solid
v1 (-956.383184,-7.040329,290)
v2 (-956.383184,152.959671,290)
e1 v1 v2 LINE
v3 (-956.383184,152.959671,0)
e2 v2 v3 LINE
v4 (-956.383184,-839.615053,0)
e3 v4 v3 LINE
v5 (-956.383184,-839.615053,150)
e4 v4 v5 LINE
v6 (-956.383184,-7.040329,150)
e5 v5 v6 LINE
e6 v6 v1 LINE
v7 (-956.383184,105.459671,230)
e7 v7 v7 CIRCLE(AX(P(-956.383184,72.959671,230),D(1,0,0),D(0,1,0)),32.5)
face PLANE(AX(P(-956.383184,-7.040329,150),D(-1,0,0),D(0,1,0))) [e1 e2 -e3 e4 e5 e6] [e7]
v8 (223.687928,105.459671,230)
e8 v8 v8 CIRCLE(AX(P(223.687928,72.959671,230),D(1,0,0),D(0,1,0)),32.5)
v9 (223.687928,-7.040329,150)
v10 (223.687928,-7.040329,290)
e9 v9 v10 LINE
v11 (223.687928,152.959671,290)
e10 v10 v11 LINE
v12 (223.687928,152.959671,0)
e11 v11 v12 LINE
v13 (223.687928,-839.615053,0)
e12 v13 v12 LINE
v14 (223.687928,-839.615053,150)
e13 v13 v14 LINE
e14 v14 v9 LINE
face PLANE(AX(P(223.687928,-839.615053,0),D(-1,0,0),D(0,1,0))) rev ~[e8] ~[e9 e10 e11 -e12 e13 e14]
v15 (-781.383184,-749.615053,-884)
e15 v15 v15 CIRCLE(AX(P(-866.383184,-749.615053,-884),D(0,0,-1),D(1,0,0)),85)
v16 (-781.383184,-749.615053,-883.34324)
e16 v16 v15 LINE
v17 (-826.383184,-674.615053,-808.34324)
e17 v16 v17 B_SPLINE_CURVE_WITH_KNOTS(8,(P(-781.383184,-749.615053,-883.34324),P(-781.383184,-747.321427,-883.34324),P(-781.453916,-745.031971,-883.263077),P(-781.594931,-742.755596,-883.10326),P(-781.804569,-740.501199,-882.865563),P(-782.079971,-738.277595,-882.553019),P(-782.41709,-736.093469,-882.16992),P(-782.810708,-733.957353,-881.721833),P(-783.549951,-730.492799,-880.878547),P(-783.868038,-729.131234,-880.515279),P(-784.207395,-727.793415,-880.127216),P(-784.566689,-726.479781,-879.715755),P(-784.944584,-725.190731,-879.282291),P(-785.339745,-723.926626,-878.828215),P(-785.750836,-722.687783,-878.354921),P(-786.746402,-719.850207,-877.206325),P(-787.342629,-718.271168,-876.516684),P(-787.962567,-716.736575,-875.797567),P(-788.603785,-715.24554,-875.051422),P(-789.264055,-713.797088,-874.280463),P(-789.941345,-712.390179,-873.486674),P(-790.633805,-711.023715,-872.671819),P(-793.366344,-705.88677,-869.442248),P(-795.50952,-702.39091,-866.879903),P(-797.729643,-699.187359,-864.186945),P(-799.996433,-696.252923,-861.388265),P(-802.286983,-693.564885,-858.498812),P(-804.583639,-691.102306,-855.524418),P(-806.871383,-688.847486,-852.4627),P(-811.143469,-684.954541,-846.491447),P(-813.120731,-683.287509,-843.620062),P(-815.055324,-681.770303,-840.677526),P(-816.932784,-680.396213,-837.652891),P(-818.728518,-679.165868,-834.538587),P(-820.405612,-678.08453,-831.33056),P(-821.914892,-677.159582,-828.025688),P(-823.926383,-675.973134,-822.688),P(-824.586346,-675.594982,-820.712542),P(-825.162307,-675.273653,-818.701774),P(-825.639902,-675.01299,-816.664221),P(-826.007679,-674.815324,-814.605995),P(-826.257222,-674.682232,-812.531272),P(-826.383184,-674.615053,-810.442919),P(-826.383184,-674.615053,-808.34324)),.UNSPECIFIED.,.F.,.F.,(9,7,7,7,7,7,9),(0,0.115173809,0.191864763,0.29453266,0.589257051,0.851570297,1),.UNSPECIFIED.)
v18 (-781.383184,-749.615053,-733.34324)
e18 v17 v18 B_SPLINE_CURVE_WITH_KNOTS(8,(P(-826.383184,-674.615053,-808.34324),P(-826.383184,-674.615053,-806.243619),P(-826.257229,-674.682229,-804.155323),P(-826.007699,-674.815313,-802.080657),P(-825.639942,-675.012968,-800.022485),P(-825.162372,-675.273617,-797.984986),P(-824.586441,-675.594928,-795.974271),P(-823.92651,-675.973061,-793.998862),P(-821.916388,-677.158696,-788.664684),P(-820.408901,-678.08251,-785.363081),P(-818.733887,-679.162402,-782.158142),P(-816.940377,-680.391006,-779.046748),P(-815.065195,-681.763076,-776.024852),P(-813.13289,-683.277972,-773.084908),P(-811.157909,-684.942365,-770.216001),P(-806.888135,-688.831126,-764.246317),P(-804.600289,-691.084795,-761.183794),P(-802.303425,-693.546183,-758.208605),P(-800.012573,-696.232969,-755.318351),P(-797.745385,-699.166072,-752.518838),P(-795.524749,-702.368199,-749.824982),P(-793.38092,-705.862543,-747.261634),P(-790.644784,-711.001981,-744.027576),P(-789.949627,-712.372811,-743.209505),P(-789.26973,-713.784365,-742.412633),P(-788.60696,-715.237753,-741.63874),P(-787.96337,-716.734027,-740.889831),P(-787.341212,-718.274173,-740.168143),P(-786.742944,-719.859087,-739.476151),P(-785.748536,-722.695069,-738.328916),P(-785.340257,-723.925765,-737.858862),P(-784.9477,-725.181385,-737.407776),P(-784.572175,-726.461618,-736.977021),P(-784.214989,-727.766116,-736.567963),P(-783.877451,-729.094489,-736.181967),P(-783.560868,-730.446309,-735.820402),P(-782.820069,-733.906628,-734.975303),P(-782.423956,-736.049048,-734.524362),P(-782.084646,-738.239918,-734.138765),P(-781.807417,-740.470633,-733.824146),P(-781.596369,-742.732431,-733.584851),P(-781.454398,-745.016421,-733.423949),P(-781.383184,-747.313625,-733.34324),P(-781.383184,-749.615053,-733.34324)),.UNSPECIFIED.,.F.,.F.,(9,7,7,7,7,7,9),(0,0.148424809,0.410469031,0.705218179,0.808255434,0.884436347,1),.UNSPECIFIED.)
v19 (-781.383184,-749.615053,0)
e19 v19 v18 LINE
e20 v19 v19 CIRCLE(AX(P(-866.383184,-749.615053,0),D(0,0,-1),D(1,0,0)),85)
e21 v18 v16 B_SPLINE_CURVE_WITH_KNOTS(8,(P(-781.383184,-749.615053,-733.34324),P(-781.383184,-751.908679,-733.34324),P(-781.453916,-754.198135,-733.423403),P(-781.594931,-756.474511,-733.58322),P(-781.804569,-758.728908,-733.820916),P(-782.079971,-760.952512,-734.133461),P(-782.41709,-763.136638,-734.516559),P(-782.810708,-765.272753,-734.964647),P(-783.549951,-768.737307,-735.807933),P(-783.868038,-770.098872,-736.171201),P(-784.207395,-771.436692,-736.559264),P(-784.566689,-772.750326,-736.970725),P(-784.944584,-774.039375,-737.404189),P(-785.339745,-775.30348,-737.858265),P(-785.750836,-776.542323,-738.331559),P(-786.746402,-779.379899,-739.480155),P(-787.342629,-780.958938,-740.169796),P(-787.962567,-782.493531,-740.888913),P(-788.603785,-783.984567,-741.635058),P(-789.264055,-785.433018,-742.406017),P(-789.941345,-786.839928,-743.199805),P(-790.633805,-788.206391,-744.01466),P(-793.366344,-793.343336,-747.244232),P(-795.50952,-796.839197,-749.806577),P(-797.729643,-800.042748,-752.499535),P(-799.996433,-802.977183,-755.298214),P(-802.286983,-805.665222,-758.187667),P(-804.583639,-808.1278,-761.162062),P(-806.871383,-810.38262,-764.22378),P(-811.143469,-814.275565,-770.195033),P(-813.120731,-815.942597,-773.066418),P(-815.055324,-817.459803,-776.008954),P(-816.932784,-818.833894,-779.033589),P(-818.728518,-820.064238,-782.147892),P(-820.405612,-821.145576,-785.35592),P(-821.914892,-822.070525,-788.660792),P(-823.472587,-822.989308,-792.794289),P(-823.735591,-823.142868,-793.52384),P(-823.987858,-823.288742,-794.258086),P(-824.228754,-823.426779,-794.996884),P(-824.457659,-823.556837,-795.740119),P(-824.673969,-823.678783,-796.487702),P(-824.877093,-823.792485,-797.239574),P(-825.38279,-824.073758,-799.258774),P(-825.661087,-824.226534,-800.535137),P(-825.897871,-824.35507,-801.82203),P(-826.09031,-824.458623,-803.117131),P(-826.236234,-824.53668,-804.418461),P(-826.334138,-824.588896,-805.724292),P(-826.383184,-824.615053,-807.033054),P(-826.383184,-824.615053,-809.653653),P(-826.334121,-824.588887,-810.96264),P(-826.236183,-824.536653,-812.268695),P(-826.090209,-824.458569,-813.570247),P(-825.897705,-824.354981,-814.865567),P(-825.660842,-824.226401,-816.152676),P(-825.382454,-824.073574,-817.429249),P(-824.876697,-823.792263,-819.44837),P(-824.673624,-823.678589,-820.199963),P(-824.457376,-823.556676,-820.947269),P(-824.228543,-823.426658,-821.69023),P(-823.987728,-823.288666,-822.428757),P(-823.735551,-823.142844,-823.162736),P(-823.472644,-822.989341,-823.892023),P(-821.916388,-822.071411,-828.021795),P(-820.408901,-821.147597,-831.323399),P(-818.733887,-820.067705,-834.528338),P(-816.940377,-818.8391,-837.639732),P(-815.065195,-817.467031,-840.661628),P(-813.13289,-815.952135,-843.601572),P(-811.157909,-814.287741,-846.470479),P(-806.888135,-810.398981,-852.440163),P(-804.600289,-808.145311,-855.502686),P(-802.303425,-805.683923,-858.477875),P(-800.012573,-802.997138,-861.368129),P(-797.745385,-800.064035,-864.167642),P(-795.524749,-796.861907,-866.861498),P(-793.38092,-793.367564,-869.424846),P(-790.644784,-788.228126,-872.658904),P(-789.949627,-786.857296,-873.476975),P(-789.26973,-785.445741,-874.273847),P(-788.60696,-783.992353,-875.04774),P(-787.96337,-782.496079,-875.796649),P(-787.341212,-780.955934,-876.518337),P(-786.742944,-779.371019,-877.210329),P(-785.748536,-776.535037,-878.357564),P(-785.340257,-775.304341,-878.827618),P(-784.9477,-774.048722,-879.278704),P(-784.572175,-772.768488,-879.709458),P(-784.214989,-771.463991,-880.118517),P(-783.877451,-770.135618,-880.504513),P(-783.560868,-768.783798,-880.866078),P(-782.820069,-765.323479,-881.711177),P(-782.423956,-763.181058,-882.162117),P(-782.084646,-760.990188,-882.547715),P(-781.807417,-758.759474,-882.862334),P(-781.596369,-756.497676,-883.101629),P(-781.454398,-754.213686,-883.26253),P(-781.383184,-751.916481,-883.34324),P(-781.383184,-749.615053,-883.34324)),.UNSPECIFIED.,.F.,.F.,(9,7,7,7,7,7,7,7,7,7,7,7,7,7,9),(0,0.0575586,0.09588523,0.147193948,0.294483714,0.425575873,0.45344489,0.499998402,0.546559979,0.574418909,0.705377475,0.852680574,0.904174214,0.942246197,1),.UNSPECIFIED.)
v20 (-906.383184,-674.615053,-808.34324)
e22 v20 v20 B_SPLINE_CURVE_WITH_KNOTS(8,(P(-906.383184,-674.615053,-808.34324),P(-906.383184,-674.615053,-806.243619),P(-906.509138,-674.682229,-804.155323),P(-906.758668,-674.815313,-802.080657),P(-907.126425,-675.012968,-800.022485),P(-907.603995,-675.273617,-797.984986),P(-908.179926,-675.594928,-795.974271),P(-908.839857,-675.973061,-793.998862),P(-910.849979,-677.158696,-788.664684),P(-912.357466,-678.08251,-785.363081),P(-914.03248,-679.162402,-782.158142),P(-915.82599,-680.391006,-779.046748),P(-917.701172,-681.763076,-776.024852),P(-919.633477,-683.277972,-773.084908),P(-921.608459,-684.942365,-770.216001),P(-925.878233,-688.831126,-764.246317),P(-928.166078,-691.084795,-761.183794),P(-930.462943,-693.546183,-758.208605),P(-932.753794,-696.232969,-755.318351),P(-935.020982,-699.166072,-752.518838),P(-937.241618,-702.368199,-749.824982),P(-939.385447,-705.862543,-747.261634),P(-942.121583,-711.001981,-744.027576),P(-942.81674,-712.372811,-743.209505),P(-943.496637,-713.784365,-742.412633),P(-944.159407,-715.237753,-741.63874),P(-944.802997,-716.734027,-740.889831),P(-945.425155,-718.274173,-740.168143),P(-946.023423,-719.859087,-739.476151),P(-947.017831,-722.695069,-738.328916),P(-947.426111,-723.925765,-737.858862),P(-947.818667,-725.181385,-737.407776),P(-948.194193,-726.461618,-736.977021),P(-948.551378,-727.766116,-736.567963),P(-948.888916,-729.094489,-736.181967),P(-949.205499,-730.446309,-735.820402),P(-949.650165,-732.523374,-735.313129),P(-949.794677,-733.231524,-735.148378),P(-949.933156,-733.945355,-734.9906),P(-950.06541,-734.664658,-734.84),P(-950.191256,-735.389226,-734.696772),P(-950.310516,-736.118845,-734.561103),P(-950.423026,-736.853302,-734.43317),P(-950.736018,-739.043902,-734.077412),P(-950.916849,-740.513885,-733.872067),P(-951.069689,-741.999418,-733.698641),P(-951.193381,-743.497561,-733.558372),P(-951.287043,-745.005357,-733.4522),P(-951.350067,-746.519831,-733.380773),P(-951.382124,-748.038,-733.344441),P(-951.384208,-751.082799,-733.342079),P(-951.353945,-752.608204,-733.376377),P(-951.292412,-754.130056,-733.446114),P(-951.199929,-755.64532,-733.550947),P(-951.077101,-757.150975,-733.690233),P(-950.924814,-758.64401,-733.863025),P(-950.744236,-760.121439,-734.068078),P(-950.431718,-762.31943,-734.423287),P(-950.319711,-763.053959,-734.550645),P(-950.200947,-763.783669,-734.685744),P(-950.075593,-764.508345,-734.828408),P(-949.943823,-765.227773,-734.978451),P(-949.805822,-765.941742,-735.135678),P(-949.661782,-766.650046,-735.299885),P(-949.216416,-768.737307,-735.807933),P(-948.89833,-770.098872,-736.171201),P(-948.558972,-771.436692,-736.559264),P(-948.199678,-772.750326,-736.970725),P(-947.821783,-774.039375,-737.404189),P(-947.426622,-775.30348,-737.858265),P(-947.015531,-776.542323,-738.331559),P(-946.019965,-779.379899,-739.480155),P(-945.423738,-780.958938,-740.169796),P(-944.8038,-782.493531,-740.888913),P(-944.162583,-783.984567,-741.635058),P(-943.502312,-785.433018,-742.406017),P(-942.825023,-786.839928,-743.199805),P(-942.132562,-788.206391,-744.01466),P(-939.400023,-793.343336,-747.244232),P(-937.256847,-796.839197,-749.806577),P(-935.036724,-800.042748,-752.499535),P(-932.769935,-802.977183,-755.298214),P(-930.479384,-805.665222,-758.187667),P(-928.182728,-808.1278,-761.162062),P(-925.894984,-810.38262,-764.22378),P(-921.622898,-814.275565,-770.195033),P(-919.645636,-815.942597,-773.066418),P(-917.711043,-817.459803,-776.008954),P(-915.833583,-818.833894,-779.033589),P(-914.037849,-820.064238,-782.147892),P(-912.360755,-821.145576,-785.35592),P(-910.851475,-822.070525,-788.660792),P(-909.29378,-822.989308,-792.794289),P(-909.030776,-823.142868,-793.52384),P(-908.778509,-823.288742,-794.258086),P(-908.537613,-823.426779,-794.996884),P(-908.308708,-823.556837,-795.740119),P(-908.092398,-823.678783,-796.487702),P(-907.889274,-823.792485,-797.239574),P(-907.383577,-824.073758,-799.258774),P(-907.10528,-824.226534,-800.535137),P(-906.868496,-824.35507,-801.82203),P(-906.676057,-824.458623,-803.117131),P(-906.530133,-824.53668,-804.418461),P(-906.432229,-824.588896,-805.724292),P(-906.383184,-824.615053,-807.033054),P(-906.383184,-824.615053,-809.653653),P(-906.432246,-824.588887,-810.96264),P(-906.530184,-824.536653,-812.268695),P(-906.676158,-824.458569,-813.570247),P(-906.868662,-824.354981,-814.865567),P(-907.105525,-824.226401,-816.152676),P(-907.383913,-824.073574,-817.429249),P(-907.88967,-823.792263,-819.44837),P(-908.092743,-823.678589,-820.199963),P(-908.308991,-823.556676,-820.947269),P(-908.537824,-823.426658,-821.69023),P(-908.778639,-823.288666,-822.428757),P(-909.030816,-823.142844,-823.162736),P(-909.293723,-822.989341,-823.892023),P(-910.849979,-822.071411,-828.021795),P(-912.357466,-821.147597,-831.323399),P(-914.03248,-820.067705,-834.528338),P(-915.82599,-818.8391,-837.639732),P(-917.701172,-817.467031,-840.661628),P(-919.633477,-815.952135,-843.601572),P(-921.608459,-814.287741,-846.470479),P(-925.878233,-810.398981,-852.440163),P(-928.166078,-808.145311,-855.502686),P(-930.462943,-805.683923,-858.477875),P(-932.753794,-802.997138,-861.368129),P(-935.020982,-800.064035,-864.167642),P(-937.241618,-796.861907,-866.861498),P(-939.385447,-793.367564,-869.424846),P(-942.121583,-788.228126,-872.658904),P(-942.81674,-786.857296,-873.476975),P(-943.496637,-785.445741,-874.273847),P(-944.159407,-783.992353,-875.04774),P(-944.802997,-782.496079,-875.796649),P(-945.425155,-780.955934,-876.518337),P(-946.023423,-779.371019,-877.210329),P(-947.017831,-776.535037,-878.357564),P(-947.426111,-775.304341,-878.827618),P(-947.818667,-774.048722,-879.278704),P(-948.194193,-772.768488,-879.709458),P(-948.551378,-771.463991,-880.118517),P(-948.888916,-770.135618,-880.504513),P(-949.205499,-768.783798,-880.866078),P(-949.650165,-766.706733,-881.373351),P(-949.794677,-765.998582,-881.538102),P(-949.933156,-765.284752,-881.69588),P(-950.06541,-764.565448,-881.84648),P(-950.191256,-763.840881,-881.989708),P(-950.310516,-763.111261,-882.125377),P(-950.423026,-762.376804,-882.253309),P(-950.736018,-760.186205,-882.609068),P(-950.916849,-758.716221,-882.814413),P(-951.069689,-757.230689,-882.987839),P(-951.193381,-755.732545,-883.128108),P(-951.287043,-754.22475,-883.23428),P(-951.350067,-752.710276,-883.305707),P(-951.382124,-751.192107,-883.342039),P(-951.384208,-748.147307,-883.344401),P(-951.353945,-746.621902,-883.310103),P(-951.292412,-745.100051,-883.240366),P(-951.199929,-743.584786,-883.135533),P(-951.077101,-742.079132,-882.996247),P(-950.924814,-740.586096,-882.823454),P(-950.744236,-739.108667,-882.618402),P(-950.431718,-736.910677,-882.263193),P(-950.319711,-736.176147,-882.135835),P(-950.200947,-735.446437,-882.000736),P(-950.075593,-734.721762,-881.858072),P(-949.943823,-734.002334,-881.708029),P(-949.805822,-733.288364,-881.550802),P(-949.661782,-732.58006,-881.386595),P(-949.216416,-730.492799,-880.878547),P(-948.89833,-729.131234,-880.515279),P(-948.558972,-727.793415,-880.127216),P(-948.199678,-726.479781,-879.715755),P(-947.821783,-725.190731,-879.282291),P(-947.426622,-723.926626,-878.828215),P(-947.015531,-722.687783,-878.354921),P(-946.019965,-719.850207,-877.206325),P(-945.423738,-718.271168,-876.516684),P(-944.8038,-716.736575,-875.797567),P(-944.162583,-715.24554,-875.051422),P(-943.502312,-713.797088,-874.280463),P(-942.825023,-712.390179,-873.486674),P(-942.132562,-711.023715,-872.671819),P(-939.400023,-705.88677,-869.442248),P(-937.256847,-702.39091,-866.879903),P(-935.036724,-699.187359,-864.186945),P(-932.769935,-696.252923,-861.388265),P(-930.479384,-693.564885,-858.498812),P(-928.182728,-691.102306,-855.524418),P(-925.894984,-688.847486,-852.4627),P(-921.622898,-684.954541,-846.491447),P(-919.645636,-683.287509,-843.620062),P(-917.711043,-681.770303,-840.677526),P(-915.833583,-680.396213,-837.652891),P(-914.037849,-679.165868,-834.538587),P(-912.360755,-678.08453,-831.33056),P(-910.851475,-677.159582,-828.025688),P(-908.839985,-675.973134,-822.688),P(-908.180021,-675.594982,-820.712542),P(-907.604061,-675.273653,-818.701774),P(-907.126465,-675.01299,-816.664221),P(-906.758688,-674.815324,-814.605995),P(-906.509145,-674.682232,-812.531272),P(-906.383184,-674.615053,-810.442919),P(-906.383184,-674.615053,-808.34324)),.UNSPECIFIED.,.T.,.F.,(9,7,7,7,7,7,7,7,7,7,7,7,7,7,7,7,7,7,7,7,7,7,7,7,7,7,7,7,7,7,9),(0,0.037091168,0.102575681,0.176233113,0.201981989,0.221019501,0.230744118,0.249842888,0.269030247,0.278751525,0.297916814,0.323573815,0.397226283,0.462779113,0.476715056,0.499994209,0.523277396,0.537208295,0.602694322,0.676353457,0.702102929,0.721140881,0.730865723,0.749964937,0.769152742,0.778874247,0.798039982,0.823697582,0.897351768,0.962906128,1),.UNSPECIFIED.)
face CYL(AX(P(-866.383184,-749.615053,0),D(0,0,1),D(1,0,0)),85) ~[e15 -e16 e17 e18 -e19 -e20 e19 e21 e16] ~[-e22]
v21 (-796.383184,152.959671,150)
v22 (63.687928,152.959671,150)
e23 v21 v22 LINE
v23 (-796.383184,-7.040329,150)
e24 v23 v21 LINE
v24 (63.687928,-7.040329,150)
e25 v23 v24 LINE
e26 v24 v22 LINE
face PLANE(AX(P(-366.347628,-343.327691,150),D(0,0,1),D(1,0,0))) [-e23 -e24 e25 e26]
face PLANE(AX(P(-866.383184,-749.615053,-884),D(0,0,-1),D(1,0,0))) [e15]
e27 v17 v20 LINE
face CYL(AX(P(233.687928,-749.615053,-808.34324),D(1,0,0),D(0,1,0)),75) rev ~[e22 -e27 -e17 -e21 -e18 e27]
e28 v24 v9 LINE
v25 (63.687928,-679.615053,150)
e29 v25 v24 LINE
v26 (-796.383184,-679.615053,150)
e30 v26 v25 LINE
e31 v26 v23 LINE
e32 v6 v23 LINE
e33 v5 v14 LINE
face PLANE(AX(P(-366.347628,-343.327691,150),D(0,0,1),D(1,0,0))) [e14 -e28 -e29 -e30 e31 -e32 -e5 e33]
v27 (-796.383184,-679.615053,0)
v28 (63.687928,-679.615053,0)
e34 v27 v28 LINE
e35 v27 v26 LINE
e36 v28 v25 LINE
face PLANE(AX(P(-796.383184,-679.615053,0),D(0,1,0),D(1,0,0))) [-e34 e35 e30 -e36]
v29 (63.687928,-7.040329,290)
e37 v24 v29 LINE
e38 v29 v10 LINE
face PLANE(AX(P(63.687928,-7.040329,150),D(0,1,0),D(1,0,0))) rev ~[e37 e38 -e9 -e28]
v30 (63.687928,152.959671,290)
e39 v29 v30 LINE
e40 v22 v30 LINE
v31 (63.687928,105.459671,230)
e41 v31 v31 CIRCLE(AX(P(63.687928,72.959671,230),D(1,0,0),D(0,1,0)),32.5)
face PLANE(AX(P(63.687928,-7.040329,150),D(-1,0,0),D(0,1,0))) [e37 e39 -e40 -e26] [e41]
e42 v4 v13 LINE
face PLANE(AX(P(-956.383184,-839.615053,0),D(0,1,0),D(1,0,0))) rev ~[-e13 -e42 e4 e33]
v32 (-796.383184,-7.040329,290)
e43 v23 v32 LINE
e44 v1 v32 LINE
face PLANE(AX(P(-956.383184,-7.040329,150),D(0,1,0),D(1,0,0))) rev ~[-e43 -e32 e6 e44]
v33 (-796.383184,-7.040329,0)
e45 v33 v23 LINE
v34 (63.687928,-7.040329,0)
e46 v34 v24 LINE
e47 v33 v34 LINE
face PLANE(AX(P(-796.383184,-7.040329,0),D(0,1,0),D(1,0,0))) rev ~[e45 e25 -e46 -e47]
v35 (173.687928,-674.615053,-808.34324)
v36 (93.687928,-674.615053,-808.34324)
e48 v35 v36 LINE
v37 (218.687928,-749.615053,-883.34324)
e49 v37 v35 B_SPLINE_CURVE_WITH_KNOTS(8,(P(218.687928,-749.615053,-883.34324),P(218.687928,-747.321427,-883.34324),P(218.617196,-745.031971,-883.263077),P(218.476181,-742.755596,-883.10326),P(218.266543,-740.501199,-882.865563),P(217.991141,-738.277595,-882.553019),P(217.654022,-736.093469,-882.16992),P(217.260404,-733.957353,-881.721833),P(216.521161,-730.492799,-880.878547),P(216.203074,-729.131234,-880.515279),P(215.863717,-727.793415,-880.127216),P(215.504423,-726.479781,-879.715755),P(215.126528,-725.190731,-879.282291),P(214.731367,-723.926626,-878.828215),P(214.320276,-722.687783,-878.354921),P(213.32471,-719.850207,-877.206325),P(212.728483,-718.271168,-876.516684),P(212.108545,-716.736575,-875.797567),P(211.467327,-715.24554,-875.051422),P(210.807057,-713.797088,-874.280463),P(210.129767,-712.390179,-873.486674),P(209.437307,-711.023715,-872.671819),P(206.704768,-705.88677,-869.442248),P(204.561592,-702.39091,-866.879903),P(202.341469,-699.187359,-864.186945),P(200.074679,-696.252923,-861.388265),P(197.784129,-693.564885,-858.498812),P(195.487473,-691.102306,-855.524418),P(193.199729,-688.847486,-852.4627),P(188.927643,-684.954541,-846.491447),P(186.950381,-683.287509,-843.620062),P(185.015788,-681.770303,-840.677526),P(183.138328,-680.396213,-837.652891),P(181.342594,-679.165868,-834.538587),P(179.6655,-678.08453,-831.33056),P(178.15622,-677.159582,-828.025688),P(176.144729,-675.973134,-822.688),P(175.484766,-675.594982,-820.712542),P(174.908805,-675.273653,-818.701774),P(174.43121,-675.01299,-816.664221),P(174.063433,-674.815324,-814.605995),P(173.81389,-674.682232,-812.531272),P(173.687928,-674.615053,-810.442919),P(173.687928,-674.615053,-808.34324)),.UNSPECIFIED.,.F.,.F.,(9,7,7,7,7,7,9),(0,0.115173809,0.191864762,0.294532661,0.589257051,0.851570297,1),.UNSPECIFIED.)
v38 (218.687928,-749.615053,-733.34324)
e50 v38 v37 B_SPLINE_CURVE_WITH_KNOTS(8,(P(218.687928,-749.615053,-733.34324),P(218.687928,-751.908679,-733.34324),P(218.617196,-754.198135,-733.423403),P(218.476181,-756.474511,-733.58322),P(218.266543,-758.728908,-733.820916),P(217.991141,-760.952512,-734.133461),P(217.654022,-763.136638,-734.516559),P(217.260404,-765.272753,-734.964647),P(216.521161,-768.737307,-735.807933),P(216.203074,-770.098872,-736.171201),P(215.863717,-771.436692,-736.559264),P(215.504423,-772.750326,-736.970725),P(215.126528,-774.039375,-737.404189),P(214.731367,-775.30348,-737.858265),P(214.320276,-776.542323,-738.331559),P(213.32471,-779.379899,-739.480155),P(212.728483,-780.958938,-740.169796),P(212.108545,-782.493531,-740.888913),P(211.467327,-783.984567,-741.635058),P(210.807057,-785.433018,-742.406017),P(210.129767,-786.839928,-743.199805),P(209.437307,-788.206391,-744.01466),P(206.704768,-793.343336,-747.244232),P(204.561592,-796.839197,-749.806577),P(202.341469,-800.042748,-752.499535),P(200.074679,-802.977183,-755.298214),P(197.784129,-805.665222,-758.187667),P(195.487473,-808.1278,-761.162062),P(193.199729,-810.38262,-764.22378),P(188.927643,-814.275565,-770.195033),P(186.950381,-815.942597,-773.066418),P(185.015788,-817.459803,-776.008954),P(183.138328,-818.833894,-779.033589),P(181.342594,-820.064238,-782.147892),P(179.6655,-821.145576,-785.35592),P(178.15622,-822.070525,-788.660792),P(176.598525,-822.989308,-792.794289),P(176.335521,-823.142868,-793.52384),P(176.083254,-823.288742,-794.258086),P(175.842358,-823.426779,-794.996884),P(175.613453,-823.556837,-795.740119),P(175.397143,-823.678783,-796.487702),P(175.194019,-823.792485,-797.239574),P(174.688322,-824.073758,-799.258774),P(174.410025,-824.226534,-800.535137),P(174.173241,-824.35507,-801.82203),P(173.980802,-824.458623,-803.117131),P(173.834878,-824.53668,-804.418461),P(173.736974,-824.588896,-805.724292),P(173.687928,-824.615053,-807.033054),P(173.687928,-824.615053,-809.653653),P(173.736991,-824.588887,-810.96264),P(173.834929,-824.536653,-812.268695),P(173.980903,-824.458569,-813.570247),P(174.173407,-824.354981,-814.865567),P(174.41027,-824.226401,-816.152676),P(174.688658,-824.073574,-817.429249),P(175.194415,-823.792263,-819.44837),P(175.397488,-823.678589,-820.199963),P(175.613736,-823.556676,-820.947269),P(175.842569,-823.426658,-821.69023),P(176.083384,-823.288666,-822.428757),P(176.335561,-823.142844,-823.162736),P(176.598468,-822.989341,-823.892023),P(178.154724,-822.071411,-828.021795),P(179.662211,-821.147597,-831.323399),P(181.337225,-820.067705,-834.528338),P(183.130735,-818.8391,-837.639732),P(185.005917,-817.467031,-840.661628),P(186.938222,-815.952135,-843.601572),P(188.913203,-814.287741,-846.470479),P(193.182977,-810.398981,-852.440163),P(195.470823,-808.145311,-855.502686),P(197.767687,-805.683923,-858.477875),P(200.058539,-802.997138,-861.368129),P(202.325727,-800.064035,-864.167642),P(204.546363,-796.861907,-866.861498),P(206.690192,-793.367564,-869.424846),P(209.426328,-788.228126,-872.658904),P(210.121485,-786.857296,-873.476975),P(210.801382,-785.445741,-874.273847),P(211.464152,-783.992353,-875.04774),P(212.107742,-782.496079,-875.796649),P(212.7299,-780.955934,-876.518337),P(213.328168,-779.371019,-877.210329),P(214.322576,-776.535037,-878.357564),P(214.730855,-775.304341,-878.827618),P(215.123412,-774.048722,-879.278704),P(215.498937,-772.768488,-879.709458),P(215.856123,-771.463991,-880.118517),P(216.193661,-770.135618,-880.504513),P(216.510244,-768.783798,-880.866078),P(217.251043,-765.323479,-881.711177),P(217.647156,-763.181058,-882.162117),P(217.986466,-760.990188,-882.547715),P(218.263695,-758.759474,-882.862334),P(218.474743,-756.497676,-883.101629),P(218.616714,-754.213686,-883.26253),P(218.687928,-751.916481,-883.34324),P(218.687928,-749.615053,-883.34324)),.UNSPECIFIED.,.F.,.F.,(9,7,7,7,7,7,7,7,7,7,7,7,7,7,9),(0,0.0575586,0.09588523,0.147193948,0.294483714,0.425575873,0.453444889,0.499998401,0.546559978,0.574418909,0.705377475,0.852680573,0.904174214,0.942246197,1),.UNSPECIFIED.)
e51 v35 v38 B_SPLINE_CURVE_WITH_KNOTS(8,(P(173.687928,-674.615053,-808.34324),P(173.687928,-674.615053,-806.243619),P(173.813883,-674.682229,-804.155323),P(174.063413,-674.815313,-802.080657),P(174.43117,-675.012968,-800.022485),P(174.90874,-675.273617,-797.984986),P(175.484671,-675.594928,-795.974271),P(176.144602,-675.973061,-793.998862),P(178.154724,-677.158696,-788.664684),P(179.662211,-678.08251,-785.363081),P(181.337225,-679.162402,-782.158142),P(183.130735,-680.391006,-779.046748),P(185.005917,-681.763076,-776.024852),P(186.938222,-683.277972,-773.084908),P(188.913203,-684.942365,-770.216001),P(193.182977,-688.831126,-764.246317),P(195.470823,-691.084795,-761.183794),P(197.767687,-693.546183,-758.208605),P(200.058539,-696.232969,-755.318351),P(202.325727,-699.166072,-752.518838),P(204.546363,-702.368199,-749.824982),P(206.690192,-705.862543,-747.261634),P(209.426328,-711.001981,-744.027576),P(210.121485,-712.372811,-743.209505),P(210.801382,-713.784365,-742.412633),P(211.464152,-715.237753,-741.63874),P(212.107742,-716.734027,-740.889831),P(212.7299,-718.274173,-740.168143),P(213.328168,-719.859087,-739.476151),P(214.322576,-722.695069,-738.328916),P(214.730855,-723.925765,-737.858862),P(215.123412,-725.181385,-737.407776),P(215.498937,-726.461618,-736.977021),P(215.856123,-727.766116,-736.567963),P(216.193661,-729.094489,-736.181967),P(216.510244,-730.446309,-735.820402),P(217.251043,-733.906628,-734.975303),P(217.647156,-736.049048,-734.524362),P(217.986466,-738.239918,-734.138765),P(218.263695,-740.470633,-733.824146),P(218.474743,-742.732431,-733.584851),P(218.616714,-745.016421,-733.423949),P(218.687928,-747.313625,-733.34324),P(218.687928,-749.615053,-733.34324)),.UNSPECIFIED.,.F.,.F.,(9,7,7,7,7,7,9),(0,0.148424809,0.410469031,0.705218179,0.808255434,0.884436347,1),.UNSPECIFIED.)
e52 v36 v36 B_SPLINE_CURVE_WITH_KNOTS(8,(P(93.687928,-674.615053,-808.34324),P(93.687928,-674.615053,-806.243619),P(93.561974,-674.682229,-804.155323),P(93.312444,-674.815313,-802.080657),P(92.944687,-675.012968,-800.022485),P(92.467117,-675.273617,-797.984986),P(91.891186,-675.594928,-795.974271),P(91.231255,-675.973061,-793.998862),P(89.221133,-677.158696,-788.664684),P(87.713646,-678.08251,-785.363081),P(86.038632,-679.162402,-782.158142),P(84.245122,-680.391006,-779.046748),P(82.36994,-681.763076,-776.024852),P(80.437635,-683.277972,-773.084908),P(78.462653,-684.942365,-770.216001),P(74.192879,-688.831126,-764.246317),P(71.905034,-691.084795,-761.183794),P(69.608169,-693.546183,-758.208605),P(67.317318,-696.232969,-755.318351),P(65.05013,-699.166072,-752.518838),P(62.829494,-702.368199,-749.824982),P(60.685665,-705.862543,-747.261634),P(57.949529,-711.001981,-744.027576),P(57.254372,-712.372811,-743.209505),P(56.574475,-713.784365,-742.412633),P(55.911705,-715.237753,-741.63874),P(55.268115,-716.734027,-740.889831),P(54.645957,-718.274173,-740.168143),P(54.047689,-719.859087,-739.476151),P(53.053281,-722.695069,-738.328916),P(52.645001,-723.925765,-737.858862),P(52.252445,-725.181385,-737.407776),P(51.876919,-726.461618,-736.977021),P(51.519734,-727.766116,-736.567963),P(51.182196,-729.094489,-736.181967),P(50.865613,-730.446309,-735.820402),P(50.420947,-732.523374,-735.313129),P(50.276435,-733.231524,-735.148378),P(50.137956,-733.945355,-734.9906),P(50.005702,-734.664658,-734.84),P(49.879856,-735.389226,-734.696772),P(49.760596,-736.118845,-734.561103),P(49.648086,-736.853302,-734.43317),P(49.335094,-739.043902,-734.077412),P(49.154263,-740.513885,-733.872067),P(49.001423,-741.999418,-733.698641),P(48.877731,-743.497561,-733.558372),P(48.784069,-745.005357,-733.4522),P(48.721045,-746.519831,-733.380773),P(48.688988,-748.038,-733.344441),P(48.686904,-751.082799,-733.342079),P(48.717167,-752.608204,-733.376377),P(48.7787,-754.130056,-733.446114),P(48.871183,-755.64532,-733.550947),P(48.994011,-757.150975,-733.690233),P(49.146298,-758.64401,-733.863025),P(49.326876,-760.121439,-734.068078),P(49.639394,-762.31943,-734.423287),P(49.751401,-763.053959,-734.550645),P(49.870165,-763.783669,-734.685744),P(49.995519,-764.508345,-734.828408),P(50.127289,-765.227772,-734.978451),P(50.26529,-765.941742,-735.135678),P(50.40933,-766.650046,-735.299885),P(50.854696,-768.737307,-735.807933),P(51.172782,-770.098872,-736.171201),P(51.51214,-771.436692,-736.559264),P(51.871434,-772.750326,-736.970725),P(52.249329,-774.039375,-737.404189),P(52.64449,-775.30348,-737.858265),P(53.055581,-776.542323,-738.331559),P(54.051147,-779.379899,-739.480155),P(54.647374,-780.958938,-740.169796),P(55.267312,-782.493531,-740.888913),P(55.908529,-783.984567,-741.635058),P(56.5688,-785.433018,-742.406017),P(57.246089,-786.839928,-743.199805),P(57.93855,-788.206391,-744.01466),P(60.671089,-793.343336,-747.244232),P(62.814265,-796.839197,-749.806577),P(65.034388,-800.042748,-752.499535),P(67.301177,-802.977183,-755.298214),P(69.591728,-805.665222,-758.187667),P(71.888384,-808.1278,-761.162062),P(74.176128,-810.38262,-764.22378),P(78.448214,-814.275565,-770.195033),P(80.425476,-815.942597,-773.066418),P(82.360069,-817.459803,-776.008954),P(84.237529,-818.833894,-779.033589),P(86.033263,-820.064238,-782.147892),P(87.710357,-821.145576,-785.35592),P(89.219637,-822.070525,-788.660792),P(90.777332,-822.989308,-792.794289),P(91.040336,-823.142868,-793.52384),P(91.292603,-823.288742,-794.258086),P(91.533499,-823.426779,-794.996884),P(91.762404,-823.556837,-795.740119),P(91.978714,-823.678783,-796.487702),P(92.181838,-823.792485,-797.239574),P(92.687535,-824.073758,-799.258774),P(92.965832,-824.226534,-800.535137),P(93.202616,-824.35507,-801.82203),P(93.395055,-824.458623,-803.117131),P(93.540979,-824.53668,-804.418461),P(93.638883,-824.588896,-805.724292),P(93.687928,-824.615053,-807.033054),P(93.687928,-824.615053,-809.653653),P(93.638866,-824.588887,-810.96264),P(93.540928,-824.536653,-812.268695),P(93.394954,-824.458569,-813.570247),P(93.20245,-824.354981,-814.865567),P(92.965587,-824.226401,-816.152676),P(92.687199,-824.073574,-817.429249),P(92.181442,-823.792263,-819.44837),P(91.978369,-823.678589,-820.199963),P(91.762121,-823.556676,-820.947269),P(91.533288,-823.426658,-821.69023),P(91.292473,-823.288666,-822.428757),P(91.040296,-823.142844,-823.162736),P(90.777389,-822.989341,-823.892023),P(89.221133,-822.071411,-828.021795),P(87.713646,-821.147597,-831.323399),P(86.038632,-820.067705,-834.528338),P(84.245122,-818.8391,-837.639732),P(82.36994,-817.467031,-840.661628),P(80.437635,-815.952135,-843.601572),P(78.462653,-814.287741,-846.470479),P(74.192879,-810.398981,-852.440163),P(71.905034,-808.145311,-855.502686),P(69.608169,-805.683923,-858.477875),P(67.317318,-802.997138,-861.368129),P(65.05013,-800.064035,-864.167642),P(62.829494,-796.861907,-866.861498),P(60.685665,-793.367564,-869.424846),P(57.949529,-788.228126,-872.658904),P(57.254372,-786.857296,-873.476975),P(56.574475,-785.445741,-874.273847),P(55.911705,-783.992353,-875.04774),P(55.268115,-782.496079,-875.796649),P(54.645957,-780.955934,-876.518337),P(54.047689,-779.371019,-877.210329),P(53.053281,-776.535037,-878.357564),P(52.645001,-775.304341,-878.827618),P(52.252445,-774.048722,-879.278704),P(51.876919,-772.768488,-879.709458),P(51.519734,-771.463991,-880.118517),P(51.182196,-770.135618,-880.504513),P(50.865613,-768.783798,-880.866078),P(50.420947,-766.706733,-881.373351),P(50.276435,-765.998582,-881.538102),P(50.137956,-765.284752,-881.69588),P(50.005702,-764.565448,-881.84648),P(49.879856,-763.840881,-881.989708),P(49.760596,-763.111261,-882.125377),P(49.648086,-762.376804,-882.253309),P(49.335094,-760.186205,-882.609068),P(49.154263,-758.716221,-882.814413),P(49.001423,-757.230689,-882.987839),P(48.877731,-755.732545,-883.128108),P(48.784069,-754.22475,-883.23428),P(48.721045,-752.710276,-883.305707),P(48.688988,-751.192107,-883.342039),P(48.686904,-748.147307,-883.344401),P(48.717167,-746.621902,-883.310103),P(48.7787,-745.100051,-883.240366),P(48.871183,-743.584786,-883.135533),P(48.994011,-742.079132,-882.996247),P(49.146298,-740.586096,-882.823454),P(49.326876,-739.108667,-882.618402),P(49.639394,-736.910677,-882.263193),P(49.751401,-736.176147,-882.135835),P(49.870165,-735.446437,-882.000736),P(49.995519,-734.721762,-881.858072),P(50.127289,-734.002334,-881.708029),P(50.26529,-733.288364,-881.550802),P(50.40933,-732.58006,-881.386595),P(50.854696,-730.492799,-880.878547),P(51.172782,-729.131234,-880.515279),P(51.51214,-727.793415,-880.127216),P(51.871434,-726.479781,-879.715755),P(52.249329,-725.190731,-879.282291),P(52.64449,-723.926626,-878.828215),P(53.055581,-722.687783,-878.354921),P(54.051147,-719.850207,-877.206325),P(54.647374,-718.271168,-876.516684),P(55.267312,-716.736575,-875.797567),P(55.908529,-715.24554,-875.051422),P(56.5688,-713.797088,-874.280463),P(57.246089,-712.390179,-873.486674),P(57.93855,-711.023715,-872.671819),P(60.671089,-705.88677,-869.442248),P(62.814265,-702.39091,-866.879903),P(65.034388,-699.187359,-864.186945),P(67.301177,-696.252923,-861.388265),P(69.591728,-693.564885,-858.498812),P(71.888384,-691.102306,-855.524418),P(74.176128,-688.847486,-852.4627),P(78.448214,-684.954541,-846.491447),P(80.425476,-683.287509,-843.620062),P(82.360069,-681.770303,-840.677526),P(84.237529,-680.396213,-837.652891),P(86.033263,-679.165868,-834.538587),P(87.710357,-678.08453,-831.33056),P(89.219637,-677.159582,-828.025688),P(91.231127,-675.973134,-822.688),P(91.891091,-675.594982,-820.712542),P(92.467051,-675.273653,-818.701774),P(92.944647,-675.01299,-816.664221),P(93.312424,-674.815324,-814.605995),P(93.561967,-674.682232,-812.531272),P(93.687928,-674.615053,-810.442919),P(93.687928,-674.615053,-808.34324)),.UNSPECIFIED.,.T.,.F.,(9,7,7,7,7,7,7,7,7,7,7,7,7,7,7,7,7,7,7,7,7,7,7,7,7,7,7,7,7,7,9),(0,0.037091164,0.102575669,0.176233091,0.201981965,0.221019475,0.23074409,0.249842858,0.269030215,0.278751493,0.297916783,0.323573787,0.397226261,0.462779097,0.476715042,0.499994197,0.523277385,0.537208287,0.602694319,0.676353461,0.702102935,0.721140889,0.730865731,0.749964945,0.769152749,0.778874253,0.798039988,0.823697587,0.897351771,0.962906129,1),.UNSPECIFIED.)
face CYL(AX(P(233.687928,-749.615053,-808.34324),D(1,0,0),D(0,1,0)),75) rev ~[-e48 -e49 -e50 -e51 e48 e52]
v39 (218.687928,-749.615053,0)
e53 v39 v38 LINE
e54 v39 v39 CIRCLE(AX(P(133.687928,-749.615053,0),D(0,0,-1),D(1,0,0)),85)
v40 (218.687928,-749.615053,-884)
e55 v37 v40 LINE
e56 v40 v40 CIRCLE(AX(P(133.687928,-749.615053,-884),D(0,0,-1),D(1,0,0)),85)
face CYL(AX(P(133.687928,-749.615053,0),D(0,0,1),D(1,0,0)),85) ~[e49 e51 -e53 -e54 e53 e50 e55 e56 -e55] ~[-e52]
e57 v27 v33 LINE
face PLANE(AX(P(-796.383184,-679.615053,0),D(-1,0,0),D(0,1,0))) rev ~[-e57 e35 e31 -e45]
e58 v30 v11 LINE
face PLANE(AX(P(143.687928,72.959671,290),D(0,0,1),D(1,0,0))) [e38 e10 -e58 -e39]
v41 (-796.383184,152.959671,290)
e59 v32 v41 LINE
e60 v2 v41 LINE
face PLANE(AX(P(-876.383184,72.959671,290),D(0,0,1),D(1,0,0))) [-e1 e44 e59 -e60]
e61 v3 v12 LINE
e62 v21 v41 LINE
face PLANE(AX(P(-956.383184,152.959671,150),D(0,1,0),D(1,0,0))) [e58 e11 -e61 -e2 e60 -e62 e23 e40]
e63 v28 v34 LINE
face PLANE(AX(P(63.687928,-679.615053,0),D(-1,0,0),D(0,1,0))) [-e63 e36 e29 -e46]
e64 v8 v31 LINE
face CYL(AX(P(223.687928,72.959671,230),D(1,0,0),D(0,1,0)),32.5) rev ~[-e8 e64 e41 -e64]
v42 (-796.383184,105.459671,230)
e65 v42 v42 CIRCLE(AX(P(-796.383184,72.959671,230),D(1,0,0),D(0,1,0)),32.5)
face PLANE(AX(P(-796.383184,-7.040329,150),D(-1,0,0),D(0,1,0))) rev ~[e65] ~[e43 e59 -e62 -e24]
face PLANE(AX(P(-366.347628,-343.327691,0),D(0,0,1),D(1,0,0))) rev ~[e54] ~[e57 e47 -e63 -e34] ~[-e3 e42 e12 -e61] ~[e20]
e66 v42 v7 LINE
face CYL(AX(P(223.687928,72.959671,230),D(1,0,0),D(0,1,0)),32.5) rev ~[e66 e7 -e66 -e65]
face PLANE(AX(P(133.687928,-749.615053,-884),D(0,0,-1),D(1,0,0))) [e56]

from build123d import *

# Parameters (mm, degrees)
SKETCH1_W           = 1180.071112
SKETCH1_H           = 992.574724554
SKETCH1_W_2         = 860.071112
SKETCH1_H_2         = 672.574724554
BOSS_EXTRUDE2_DEPTH = 150
SKETCH2_W           = 160
SKETCH2_H           = 160
BOSS_EXTRUDE3_DEPTH = 140
SKETCH4_R           = 85
BOSS_EXTRUDE4_DEPTH = 884
SKETCH5_R           = 75
CUT_EXTRUDE2_DEPTH  = 1704.724945294
SKETCH6_R           = 32.5
CUT_EXTRUDE3_DEPTH  = 1697.754922537


with BuildPart() as part:
    # Sketch1 → Boss-Extrude2 (new body)
    with BuildSketch(Plane.XY):
        with Locations((-366.347627568, -343.327690947)):
            Rectangle(SKETCH1_W, SKETCH1_H)
        with Locations((-366.347627568, -343.327690947)):
            Rectangle(SKETCH1_W_2, SKETCH1_H_2, mode=Mode.SUBTRACT)
    extrude(amount=BOSS_EXTRUDE2_DEPTH)

    # Sketch2 → Boss-Extrude3 (add)
    with BuildSketch(Plane.XY.offset(150)):
        with Locations((-876.383183568, 72.95967133)):
            Rectangle(SKETCH2_W, SKETCH2_H)
        with Locations((143.687928432, 72.95967133)):
            Rectangle(SKETCH2_W, SKETCH2_H)
    extrude(amount=BOSS_EXTRUDE3_DEPTH)

    # Sketch4 → Boss-Extrude4 (add)
    with BuildSketch(Plane(origin=(0, 0, 0), x_dir=(-1, 0, 0), z_dir=(0, 0, -1))):
        with Locations(Location((-133.687928432, -749.615053224, 0), (0, 0, 180))):
            Circle(SKETCH4_R)
        with Locations(Location((866.383183568, -749.615053224, 0), (0, 0, 180))):
            Circle(SKETCH4_R)
    extrude(amount=BOSS_EXTRUDE4_DEPTH)

    # Sketch5 → Cut-Extrude2 (cut, through all)
    with BuildSketch(Plane(origin=(233.687928432, 0, 0), x_dir=(0, 0, -1), z_dir=(1, 0, 0))):
        with Locations(Location((808.343239866, -749.615053224, 0), (0, 0, 90))):
            Circle(SKETCH5_R)
    extrude(amount=-CUT_EXTRUDE2_DEPTH, mode=Mode.SUBTRACT)

    # Sketch6 → Cut-Extrude3 (cut, through all)
    with BuildSketch(Plane(origin=(223.687928432, 0, 0), x_dir=(0, 0, -1), z_dir=(1, 0, 0))):
        with Locations(Location((-230, 72.95967133, 0), (0, 0, 90))):
            Circle(SKETCH6_R)
    extrude(amount=-CUT_EXTRUDE3_DEPTH, mode=Mode.SUBTRACT)


solid = part.part
